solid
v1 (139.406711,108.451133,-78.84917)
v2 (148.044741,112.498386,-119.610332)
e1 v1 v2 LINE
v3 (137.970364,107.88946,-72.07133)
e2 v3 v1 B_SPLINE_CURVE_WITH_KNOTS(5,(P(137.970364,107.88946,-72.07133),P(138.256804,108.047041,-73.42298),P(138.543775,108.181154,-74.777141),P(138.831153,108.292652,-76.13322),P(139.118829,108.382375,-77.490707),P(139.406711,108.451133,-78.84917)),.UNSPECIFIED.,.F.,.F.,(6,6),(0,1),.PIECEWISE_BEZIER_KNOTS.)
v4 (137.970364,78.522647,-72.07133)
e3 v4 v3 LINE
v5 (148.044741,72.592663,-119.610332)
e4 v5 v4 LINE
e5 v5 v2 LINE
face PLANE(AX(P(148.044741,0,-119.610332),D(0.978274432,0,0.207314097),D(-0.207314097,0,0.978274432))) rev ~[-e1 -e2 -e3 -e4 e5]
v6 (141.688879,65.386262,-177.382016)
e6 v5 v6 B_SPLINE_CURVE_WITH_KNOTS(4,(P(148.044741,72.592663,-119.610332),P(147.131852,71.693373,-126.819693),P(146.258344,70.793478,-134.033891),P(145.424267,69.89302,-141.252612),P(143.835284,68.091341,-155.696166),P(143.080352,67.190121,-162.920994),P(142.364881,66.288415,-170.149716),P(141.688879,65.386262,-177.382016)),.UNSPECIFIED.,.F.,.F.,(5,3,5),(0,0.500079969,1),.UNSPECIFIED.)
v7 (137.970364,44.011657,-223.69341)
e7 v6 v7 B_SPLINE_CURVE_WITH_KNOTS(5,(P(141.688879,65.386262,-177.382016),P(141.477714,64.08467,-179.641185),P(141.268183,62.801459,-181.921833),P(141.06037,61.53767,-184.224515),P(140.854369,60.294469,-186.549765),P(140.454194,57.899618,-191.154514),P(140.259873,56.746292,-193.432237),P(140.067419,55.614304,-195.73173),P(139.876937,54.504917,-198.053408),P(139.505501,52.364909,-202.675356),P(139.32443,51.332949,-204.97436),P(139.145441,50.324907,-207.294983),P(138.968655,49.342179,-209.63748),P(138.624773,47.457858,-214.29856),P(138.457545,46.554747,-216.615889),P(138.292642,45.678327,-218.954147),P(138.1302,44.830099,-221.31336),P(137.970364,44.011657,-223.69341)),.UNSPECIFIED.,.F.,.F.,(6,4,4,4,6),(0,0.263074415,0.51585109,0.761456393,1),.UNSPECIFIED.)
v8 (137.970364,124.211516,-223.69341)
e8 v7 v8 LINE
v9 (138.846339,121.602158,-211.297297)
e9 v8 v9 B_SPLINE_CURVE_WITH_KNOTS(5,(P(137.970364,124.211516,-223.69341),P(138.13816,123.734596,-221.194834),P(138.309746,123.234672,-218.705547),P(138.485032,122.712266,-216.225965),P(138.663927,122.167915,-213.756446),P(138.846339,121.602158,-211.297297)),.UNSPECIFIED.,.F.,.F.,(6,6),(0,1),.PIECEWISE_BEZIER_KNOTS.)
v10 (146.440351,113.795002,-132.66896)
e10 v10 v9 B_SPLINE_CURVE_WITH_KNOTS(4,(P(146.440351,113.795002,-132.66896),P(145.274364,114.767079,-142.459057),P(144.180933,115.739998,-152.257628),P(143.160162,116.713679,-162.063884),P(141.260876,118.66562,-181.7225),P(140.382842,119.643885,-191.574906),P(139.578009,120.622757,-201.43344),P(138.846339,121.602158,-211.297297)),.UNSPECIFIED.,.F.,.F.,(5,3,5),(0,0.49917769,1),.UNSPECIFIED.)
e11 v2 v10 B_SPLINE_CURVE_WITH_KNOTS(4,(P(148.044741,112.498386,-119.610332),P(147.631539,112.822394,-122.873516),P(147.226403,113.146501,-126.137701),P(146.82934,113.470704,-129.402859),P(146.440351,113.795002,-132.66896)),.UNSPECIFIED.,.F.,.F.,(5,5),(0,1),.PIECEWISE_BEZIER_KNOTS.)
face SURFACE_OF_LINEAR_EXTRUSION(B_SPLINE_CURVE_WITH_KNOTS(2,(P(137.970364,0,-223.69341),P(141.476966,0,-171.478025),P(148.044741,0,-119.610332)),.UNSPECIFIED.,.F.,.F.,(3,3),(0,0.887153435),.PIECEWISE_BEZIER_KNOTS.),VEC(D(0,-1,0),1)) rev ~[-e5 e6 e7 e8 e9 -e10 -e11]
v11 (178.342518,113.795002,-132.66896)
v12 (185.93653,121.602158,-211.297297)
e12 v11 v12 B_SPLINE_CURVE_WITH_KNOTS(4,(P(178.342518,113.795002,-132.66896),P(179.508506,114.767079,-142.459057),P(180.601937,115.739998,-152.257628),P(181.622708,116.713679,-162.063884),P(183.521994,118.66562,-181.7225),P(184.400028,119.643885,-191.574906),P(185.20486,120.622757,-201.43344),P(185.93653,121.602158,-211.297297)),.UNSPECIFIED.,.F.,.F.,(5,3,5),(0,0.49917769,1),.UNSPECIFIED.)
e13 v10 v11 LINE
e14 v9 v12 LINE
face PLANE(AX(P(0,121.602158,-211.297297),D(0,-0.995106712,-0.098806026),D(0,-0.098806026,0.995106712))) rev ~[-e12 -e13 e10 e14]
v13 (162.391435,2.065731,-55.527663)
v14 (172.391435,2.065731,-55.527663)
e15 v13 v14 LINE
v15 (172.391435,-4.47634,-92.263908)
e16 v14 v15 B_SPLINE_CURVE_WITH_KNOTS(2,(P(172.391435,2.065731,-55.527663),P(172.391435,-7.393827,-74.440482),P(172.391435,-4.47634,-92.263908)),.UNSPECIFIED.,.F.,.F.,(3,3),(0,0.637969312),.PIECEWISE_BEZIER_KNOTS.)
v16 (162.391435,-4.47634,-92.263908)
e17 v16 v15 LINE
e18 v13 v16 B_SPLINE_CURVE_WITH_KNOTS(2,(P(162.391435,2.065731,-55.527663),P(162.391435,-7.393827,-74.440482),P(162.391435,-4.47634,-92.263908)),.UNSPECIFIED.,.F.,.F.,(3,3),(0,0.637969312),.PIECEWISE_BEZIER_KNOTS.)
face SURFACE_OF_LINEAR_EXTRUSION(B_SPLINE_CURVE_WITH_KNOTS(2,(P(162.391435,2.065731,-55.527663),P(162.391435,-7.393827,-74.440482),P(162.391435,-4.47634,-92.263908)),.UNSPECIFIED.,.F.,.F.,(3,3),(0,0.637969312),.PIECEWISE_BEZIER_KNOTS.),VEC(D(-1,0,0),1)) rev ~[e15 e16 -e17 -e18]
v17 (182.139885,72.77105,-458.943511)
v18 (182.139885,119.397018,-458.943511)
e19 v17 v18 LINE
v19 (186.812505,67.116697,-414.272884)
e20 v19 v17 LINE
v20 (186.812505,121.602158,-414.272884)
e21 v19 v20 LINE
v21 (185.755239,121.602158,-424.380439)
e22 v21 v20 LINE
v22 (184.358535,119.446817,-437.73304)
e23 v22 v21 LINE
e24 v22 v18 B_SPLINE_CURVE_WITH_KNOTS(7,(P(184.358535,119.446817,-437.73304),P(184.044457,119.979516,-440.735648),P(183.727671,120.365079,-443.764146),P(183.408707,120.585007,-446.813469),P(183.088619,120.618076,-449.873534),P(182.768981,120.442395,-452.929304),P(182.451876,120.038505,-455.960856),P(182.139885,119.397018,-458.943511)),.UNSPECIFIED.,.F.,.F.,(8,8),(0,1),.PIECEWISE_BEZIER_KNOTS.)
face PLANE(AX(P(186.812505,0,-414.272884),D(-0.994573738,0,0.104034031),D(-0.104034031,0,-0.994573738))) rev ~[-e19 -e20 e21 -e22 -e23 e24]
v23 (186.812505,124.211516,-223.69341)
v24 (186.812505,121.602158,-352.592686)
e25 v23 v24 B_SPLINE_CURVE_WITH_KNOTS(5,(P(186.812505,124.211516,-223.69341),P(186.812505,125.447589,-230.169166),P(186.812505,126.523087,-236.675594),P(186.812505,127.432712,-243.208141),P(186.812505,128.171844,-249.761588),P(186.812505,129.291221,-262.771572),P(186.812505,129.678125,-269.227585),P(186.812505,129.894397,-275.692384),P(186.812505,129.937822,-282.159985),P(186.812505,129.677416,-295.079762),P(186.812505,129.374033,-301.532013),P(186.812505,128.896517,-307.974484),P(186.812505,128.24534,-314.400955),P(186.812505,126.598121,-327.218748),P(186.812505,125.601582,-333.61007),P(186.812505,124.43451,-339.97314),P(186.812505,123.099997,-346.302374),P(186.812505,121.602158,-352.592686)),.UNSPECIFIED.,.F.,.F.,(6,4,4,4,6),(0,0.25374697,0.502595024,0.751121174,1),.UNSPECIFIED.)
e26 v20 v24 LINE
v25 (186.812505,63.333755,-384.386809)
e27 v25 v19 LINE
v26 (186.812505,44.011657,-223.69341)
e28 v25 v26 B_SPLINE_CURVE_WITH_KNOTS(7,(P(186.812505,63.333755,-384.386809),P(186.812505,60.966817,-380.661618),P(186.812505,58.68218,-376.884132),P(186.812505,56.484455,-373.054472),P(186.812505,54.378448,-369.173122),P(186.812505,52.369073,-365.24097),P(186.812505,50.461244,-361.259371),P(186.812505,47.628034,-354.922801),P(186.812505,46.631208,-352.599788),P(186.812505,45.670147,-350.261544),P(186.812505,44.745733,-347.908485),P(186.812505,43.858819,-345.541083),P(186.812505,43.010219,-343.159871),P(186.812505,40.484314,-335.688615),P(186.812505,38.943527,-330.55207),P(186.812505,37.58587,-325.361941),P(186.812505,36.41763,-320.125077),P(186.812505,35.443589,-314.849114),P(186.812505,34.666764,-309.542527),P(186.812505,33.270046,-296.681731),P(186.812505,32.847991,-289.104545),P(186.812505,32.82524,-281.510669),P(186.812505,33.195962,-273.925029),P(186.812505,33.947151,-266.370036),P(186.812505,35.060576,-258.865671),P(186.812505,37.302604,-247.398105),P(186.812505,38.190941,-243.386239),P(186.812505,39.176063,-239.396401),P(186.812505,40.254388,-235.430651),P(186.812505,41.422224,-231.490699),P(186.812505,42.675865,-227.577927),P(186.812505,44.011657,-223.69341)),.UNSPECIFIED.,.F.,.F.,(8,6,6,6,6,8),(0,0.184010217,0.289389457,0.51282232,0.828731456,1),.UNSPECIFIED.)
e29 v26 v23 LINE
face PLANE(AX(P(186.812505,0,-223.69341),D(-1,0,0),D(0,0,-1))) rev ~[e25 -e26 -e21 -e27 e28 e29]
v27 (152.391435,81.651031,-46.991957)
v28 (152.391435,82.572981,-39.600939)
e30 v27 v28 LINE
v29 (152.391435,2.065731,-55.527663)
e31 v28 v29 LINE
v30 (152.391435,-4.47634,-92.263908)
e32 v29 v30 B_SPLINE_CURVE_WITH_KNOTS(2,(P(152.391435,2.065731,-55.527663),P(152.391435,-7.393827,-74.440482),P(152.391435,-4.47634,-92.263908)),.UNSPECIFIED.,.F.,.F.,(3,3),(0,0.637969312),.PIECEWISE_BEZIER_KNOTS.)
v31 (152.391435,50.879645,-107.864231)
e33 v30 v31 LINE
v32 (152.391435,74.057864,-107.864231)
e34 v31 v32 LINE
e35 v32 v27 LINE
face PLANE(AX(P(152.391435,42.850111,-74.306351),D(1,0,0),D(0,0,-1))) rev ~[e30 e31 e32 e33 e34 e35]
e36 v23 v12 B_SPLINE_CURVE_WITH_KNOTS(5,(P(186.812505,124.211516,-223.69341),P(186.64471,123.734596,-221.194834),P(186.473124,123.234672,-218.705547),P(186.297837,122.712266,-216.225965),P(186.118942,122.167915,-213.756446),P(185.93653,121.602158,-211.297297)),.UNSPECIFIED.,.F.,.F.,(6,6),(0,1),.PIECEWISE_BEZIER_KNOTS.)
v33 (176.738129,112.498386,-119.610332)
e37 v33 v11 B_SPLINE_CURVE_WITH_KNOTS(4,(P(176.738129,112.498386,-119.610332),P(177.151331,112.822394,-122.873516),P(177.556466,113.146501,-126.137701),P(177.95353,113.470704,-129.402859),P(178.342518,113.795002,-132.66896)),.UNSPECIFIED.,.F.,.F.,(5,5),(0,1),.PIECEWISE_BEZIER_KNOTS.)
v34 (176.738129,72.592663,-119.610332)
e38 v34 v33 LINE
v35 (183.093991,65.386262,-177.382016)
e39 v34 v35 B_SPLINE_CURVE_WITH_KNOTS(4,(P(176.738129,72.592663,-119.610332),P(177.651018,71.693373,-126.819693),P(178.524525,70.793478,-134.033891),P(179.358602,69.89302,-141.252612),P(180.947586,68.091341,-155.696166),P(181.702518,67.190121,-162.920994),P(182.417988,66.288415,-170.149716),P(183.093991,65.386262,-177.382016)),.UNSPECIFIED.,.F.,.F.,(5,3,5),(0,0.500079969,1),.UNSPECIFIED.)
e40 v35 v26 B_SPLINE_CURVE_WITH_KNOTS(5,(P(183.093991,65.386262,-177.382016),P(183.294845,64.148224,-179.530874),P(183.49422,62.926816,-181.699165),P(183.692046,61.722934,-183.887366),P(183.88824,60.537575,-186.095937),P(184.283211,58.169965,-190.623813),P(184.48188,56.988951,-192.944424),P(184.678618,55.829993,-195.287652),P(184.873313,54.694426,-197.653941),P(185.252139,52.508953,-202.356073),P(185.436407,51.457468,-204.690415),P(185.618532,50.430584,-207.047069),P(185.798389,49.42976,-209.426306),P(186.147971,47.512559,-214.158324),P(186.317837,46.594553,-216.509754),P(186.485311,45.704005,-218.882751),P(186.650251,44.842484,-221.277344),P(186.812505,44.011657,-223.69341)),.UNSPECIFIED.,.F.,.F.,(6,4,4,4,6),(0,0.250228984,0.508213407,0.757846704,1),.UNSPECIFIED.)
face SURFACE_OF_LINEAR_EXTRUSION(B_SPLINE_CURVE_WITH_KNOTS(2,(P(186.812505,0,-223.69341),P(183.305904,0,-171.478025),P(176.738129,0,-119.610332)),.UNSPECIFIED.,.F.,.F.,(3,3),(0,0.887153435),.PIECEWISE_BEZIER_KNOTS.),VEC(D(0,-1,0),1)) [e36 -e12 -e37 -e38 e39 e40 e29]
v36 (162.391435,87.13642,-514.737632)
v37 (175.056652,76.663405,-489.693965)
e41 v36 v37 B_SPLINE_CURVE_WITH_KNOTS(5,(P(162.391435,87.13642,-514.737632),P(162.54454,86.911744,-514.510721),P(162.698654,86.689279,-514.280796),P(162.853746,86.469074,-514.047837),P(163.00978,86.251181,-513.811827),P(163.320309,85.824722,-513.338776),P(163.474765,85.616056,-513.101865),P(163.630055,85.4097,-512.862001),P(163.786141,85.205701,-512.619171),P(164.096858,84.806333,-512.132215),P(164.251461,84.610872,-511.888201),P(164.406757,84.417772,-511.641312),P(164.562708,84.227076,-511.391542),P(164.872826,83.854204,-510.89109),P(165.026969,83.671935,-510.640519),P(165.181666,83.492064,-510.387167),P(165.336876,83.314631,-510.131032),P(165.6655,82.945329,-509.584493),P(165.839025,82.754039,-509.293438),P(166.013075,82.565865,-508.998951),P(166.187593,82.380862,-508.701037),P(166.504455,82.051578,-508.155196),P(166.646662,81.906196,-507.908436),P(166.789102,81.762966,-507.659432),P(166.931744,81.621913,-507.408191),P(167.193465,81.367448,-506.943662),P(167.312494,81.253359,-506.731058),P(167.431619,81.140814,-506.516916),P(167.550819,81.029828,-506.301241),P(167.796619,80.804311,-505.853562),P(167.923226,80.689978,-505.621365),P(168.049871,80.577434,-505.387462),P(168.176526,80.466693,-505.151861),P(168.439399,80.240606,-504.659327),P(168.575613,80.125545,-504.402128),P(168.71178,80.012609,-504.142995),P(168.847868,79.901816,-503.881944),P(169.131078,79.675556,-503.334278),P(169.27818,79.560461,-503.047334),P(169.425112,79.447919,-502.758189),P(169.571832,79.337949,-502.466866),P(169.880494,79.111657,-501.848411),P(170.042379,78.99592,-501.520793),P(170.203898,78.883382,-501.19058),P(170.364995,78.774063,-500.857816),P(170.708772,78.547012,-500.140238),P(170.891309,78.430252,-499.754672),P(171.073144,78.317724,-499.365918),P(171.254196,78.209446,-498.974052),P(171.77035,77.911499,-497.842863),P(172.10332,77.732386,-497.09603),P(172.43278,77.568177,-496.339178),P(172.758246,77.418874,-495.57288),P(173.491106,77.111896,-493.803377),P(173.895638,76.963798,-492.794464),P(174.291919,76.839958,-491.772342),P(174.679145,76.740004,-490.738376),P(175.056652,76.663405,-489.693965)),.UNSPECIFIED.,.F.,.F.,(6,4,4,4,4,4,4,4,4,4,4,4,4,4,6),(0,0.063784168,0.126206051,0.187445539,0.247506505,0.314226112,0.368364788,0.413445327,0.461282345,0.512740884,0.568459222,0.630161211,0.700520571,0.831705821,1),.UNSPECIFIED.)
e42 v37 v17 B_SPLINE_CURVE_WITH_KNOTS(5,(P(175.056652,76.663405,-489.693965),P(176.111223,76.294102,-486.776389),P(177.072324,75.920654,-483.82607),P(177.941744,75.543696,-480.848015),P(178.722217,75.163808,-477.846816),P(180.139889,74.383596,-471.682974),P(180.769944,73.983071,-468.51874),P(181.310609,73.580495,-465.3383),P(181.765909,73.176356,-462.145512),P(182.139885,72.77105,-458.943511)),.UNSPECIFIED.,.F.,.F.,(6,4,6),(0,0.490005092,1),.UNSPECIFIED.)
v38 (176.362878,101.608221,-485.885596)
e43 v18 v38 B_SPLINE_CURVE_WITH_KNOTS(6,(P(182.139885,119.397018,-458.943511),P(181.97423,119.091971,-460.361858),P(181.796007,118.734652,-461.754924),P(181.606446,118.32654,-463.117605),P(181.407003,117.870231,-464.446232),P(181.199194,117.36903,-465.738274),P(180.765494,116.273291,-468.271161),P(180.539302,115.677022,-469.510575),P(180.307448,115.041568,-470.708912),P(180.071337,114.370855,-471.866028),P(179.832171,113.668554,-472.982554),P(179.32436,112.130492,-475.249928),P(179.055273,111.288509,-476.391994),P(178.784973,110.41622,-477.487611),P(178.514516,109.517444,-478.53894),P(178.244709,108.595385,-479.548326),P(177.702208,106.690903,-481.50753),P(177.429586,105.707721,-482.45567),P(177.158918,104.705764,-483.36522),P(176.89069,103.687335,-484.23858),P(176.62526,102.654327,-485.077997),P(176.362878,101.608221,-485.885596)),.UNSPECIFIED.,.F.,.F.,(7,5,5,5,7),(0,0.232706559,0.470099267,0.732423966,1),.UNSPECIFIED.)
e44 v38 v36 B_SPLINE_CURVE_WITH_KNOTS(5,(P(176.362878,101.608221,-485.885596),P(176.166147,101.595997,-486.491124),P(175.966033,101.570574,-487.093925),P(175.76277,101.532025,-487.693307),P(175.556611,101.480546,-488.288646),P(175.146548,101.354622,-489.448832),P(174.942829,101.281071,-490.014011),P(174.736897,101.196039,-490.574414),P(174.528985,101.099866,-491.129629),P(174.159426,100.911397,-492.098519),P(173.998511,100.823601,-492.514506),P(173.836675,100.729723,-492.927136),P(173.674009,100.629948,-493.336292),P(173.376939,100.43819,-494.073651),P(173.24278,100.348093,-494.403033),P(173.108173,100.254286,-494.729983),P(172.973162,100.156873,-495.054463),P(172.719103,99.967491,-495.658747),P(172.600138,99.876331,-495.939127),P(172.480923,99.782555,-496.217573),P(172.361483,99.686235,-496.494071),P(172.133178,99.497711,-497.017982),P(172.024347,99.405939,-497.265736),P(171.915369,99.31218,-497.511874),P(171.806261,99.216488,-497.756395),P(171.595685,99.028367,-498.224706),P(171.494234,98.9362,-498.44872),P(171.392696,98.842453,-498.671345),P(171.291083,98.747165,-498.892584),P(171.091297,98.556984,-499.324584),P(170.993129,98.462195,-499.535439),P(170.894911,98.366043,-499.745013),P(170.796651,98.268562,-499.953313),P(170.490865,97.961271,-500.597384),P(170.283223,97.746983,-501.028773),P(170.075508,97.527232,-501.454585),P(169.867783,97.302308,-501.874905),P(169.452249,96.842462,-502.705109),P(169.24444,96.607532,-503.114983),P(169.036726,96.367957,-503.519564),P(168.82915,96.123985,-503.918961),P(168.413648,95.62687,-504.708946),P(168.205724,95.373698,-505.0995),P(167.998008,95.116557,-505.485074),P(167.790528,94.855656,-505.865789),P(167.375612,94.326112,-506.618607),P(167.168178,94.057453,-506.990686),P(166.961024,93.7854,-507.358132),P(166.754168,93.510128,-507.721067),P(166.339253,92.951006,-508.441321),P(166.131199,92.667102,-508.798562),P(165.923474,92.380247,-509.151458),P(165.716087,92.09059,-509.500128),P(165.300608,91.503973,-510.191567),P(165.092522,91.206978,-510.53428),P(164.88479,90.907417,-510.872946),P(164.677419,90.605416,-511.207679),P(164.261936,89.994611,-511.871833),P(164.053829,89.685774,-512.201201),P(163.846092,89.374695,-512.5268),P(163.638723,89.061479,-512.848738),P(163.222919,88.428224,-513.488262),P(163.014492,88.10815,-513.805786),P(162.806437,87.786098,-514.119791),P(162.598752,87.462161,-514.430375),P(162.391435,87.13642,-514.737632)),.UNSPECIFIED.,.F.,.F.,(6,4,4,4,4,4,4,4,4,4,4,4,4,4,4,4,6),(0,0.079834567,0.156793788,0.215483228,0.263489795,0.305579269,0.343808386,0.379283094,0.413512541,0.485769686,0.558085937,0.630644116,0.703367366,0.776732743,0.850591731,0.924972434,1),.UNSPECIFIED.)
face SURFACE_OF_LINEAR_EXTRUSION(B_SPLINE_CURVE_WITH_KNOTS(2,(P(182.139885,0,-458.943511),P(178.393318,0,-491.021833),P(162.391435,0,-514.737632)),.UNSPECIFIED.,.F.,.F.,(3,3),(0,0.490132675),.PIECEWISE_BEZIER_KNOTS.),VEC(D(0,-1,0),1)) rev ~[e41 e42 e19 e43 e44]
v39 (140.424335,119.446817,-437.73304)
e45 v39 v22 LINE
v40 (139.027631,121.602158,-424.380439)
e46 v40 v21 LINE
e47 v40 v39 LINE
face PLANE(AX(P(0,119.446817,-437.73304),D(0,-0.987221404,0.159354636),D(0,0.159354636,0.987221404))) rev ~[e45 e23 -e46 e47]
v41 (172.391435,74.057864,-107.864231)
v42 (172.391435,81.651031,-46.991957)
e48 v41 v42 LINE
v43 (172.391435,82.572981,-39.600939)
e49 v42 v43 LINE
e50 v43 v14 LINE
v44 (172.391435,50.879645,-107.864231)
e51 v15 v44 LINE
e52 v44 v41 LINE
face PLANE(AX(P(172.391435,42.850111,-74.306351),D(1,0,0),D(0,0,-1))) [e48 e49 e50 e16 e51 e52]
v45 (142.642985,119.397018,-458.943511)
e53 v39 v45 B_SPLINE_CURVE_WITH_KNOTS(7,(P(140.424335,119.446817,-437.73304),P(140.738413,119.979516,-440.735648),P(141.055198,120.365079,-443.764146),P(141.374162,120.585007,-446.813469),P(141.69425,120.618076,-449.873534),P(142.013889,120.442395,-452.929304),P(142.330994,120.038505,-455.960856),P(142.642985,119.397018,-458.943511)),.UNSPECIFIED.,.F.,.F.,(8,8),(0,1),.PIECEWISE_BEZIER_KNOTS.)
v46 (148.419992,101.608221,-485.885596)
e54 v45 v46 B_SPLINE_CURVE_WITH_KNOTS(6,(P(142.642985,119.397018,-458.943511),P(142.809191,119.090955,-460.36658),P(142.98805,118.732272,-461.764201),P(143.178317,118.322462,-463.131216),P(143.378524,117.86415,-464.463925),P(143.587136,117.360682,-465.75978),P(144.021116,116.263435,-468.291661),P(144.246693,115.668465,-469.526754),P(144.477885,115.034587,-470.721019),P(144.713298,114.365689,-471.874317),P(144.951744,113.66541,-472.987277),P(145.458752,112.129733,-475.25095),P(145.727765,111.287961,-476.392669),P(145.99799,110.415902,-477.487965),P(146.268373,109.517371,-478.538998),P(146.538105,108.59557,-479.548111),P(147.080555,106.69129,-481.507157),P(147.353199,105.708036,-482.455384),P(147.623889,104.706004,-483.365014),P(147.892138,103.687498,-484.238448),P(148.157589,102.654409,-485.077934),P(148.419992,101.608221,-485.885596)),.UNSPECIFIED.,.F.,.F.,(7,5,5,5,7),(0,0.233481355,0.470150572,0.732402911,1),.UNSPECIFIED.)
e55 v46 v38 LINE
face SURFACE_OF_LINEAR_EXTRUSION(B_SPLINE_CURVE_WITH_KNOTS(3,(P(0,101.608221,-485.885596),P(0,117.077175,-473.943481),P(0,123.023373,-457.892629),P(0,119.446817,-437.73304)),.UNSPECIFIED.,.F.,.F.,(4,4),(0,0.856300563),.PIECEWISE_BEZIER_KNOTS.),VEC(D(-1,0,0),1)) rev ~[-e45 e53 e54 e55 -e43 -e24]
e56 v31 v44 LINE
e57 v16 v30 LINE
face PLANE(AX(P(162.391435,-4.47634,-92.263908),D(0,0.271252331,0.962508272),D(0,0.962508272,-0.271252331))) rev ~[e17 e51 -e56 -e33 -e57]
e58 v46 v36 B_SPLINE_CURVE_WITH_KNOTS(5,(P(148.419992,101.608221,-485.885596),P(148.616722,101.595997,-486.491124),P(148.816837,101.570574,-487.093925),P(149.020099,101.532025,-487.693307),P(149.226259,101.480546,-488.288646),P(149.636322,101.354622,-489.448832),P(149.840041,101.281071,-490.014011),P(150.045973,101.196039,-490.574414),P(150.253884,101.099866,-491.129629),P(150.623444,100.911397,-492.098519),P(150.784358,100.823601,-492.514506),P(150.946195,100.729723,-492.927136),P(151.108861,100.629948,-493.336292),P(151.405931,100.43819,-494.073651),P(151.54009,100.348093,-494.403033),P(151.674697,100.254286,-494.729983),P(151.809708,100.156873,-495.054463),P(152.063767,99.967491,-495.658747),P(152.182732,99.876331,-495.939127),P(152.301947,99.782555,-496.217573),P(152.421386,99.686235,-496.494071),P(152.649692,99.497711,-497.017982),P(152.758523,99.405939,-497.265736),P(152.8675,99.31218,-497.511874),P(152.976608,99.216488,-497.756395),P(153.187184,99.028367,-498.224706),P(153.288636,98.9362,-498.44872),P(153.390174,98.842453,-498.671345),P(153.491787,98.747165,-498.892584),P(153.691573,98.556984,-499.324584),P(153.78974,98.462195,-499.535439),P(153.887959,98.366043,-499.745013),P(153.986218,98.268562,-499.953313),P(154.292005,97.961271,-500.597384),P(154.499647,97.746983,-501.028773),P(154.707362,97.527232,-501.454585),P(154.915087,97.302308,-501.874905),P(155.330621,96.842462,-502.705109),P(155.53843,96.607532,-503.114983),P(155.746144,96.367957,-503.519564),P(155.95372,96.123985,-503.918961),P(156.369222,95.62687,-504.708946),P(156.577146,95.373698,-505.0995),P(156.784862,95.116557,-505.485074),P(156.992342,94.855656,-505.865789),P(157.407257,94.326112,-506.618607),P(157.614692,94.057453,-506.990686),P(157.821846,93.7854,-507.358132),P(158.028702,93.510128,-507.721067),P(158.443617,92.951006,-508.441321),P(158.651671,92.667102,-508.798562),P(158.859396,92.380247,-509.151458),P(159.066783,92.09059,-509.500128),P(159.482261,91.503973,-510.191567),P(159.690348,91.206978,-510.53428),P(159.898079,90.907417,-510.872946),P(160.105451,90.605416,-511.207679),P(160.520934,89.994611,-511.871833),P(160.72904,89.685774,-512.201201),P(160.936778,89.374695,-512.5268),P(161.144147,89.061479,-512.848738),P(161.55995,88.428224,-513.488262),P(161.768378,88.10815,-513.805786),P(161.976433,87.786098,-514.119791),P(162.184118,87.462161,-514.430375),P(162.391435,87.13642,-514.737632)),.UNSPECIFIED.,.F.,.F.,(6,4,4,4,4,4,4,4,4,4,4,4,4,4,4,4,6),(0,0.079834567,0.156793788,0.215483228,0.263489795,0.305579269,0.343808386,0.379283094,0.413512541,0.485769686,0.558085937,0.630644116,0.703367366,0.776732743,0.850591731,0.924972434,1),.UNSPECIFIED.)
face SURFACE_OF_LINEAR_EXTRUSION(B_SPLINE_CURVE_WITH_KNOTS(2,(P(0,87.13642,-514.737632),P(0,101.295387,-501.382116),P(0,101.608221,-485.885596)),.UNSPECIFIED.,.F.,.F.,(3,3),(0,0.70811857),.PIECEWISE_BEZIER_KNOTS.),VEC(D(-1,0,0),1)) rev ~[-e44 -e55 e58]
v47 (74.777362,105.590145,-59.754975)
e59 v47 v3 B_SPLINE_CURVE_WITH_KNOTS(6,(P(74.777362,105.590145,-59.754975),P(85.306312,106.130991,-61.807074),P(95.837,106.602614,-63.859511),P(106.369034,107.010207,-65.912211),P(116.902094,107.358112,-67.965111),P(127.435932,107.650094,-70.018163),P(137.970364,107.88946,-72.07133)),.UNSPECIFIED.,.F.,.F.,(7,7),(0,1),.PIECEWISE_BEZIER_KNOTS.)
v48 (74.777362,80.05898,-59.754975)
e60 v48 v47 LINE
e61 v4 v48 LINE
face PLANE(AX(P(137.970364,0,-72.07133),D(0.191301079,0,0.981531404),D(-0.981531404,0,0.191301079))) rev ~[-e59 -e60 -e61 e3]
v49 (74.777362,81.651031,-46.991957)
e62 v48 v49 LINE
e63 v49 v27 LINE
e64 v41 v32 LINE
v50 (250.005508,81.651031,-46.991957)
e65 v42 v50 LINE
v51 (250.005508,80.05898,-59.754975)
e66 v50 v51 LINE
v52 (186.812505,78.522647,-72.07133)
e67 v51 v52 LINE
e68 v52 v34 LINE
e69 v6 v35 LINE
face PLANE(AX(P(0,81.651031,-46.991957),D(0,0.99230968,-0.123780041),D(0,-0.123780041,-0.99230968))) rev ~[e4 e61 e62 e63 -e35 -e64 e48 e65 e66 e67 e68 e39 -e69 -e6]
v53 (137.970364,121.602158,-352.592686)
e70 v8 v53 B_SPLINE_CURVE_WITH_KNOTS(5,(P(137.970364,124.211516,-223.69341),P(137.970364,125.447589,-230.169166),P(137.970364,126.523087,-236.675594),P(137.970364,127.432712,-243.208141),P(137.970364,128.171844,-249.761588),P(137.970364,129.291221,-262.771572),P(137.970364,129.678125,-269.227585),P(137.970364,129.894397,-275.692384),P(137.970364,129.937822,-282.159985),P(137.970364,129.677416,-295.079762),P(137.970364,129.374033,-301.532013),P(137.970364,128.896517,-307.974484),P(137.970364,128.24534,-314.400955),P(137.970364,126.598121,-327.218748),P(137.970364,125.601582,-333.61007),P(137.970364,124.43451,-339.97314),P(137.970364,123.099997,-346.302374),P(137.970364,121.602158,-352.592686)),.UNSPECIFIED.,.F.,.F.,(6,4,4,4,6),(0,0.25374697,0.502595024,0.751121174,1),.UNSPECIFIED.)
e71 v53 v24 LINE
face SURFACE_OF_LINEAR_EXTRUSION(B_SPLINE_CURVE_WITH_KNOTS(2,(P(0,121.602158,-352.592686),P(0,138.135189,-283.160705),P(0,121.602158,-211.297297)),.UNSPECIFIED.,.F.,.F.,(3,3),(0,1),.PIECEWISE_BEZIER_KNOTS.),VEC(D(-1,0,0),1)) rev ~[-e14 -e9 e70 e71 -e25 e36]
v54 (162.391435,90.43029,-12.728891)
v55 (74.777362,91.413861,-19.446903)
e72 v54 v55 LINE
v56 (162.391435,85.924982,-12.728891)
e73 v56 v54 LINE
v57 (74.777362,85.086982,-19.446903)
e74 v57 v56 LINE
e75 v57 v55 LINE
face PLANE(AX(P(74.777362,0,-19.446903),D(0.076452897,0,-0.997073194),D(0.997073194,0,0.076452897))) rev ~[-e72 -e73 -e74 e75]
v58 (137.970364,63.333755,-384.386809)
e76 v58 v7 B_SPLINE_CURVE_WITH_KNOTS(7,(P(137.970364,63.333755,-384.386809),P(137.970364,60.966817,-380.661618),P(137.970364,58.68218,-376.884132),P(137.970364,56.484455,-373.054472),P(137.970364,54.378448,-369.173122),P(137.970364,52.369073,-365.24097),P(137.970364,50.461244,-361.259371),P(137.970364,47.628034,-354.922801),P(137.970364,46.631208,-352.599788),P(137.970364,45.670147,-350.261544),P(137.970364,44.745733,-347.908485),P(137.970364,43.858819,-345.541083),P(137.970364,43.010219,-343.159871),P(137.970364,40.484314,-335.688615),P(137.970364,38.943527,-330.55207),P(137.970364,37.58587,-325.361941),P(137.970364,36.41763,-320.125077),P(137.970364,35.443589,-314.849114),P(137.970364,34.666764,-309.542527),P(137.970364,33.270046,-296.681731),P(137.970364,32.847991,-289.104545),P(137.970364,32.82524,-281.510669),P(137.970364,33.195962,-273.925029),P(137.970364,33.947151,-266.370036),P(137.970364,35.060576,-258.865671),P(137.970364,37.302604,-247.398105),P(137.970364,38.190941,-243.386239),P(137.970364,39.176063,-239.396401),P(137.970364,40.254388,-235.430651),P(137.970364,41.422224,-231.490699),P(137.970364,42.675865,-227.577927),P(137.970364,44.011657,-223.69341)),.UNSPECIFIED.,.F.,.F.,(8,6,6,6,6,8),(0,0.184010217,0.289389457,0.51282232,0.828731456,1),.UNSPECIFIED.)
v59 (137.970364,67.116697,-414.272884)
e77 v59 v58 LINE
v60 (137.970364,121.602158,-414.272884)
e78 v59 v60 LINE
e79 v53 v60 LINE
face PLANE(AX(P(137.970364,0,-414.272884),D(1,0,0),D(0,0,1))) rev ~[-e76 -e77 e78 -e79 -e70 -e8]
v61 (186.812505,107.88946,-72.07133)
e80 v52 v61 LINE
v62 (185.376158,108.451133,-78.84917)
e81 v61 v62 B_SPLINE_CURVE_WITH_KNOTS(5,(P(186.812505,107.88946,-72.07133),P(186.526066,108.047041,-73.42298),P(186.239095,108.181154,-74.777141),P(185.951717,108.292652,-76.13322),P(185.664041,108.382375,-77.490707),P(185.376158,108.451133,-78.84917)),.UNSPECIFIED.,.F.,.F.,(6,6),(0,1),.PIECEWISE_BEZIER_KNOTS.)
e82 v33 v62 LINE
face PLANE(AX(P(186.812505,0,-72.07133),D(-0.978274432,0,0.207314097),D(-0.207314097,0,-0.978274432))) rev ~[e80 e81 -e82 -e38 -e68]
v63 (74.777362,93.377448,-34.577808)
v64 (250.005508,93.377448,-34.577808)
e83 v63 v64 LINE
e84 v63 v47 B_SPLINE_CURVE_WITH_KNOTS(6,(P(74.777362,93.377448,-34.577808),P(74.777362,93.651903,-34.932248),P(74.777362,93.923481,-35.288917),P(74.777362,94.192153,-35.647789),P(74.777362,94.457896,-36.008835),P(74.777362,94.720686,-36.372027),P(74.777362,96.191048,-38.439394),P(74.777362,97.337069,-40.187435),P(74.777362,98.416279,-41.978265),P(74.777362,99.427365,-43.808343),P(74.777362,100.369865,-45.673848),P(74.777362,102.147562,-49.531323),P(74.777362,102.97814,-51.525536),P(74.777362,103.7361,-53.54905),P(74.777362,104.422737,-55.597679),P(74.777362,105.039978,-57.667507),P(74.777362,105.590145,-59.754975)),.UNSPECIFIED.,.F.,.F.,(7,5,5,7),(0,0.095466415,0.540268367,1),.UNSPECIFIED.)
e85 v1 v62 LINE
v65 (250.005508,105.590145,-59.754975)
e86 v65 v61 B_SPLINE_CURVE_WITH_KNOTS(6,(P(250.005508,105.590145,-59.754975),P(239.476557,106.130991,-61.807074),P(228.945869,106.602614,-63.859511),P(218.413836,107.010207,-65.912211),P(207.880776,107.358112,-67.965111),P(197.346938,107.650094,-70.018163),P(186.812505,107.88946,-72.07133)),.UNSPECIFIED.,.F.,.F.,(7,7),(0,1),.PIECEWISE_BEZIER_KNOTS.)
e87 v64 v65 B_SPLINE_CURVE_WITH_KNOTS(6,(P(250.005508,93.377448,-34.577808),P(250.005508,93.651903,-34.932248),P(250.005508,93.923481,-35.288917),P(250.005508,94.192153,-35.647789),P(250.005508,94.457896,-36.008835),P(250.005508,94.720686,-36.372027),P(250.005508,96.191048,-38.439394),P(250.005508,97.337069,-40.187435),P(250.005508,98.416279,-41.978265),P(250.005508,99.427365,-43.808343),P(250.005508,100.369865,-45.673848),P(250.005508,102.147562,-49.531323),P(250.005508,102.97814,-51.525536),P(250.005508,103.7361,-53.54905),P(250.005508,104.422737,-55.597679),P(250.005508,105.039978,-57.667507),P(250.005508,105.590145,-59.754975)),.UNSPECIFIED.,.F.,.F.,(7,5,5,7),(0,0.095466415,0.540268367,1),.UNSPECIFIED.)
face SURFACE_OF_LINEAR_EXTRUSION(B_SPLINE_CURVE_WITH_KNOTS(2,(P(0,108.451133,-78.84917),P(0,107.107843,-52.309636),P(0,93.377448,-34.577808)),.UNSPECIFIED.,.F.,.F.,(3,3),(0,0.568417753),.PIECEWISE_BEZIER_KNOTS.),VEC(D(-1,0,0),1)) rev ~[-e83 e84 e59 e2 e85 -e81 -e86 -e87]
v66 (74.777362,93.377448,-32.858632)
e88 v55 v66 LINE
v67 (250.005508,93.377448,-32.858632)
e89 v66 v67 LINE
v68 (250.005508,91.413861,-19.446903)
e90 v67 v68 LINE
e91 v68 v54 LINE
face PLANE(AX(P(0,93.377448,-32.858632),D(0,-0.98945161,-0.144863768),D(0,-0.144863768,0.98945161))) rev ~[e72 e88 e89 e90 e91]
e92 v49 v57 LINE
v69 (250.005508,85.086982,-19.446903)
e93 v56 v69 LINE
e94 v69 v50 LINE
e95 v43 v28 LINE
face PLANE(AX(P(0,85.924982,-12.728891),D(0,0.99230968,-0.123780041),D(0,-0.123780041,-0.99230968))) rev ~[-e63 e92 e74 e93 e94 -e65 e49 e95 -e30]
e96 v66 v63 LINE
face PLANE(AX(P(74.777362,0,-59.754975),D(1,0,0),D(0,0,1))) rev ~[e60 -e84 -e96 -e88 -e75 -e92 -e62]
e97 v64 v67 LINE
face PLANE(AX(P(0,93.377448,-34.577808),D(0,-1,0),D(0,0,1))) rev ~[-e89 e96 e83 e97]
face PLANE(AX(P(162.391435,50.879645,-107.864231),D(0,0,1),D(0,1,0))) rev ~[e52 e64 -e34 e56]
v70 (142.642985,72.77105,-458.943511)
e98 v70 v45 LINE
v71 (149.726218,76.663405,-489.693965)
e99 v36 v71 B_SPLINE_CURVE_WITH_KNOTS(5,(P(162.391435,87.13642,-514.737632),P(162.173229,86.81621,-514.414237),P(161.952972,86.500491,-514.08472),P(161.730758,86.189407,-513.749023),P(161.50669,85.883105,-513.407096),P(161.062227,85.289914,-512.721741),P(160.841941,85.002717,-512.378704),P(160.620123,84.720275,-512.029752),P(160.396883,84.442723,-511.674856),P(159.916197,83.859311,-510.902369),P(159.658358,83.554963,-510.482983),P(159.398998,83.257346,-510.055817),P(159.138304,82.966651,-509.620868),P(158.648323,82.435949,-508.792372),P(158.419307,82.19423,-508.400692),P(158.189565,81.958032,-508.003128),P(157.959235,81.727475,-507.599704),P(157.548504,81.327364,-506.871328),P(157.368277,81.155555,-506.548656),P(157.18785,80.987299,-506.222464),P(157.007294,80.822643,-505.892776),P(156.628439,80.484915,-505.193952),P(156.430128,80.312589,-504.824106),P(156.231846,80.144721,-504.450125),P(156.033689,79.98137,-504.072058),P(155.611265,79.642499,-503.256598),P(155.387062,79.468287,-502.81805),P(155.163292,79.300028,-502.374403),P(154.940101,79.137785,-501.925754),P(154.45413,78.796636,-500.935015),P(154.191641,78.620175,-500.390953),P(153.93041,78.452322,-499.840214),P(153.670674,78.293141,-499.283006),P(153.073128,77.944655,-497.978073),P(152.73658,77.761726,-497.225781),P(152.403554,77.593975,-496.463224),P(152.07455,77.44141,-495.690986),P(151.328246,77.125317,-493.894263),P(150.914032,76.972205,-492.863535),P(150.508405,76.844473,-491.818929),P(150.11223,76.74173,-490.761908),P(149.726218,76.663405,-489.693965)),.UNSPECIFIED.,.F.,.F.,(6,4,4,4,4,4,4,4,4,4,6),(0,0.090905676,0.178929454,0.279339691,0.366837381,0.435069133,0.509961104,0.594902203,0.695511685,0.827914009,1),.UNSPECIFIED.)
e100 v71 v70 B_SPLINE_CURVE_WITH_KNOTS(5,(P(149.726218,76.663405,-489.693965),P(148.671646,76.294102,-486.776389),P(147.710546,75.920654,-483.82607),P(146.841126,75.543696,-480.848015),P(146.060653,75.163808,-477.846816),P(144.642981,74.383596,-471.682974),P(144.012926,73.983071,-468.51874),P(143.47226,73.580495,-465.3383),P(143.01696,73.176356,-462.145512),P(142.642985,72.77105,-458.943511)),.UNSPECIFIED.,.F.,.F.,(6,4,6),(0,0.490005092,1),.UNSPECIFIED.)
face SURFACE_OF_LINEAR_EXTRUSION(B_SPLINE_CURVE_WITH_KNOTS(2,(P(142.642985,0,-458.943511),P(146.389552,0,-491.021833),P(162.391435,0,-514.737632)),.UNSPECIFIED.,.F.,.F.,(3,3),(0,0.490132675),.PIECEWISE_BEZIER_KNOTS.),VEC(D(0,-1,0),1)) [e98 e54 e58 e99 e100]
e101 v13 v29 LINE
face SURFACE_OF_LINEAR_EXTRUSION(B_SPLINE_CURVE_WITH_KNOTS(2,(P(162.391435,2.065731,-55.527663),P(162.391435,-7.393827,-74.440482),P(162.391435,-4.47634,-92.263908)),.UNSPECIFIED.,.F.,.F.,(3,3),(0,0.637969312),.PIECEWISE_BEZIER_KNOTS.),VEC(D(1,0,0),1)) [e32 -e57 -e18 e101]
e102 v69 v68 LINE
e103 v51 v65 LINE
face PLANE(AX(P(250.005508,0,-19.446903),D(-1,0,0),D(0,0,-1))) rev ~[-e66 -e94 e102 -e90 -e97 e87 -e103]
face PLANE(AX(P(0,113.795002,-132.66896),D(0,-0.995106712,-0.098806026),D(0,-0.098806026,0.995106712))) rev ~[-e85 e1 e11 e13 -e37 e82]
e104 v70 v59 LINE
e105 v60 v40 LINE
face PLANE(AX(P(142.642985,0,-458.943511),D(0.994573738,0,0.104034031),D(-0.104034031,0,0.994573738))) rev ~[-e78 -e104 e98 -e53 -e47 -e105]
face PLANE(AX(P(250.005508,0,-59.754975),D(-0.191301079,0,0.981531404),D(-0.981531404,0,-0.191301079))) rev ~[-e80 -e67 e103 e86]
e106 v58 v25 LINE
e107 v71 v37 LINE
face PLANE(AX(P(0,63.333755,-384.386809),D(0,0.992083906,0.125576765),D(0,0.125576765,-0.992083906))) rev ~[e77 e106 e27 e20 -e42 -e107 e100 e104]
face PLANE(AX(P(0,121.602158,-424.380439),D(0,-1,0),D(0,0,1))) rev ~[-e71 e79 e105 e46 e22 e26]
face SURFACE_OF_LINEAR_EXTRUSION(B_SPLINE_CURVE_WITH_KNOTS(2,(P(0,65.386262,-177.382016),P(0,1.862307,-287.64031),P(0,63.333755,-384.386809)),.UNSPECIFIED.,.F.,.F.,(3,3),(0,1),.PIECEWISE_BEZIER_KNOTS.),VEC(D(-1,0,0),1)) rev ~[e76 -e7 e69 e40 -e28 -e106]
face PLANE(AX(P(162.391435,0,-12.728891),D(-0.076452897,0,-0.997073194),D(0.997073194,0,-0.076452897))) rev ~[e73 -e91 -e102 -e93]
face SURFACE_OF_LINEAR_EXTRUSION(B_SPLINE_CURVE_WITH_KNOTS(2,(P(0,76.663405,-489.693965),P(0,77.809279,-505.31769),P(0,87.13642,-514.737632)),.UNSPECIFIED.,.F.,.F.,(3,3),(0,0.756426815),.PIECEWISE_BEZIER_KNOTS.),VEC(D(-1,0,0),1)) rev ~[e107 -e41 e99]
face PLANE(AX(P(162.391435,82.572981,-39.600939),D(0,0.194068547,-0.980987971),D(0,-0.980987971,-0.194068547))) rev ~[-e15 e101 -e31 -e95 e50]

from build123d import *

# Parameters (mm, degrees)
BOSS_EXTRUDE1_DEPTH      = 240
SKETCH4_OUTSIDE_W        = 620.683
SKETCH4_OUTSIDE_H        = 358.674
CUT_EXTRUDE1_DEPTH       = 251.005507708
BOSS_EXTRUDE2_DEPTH      = 10
BOSS_EXTRUDE2_DEPTH_BACK = 10


with BuildPart() as part:
    # Sketch3 → Boss-Extrude1 (new body)
    with BuildSketch(Plane(origin=(0, 0, 0), x_dir=(1, 0, 0), z_dir=(0, 1, 0))):
        with BuildLine():
            Line((137.970364324, 414.272883639), (137.970364324, 223.69340993))
            add(Edge.make_bspline(
                [(137.970364324, 223.69340993), (141.476966078, 171.478024708), (148.044741181, 119.610332165)],
                knots=[0, 0, 0, 0.887153435, 0.887153435, 0.887153435], degree=2))
            Line((148.044741181, 119.610332165), (137.970364324, 72.071329968))
            Line((137.970364324, 72.071329968), (74.77736212, 59.754974694))
            Line((74.77736212, 59.754974694), (74.77736212, 19.446902889))
            Line((74.77736212, 19.446902889), (162.391434864, 12.728890921))
            Line((162.391434864, 12.728890921), (250.005507608, 19.446902889))
            Line((250.005507608, 19.446902889), (250.005507608, 59.754974694))
            Line((250.005507608, 59.754974694), (186.812505404, 72.071329968))
            Line((186.812505404, 72.071329968), (176.738128547, 119.610332165))
            add(Edge.make_bspline(
                [(186.812505404, 223.69340993), (183.30590365, 171.478024708), (176.738128547, 119.610332165)],
                knots=[0, 0, 0, 0.887153435, 0.887153435, 0.887153435], degree=2))
            Line((186.812505404, 223.69340993), (186.812505404, 414.272883639))
            Line((186.812505404, 414.272883639), (182.139885098, 458.943511131))
            add(Edge.make_bspline(
                [(182.139885098, 458.943511131), (178.393317936, 491.021832881), (162.391434864, 514.737632441)],
                knots=[0, 0, 0, 0.490132675, 0.490132675, 0.490132675], degree=2))
            add(Edge.make_bspline(
                [(142.64298463, 458.943511131), (146.389551792, 491.021832881), (162.391434864, 514.737632441)],
                knots=[0, 0, 0, 0.490132675, 0.490132675, 0.490132675], degree=2))
            Line((142.64298463, 458.943511131), (137.970364324, 414.272883639))
        make_face()
    extrude(amount=BOSS_EXTRUDE1_DEPTH)

    # Sketch4 outside → Cut-Extrude1 (cut, through all)
    with BuildSketch(Plane(origin=(0, 0, 0), x_dir=(0, 0, -1), z_dir=(1, 0, 0))):
        with Locations((263.7335, 120)):
            Rectangle(SKETCH4_OUTSIDE_W, SKETCH4_OUTSIDE_H)
        with BuildLine():
            Line((12.728890921, 85.924982425), (46.991957136, 81.651030623))
            Line((46.991957136, 81.651030623), (177.382016131, 65.386262487))
            add(Edge.make_bspline(
                [(177.382016131, 65.386262487), (287.640309593, 1.862307292), (384.386809277, 63.333754572)],
                knots=[0, 0, 0, 1, 1, 1], degree=2))
            Line((384.386809277, 63.333754572), (489.693965282, 76.663405275))
            add(Edge.make_bspline(
                [(489.693965282, 76.663405275), (505.317689733, 77.809278687), (514.737632441, 87.136419671)],
                knots=[0, 0, 0, 0.756426815, 0.756426815, 0.756426815], degree=2))
            add(Edge.make_bspline(
                [(514.737632441, 87.136419671), (501.382115592, 101.295387019), (485.88559641, 101.608221382)],
                knots=[0, 0, 0, 0.70811857, 0.70811857, 0.70811857], degree=2))
            add(Edge.make_bspline(
                [(485.88559641, 101.608221382), (473.943480605, 117.077174504), (457.892628594, 123.023372981), (437.733040377, 119.446816811)],
                knots=[0, 0, 0, 0, 0.856300563, 0.856300563, 0.856300563, 0.856300563], degree=3))
            Line((437.733040377, 119.446816811), (424.380439139, 121.602157956))
            Line((424.380439139, 121.602157956), (352.592685915, 121.602157956))
            add(Edge.make_bspline(
                [(352.592685915, 121.602157956), (283.160705497, 138.135189476), (211.297296684, 121.602157956)],
                knots=[0, 0, 0, 1, 1, 1], degree=2))
            Line((211.297296684, 121.602157956), (132.668959601, 113.79500177))
            Line((132.668959601, 113.79500177), (78.849169619, 108.45113311))
            add(Edge.make_bspline(
                [(78.849169619, 108.45113311), (52.309636156, 107.107843422), (34.577807776, 93.377447612)],
                knots=[0, 0, 0, 0.568417753, 0.568417753, 0.568417753], degree=2))
            Line((34.577807776, 93.377447612), (32.858632307, 93.377447612))
            Line((32.858632307, 93.377447612), (12.728890921, 90.430289665))
            Line((12.728890921, 90.430289665), (12.728890921, 85.924982425))
        make_face(mode=Mode.SUBTRACT)
    extrude(amount=CUT_EXTRUDE1_DEPTH, mode=Mode.SUBTRACT)

    # Sketch5 → Boss-Extrude2 (add, two sides)
    with BuildSketch(Plane.ZY.offset(-162.391434864)) as boss_extrude2_sk:
        with BuildLine():
            Line((-39.600938792, 82.572981273), (-55.527663258, 2.06573062))
            add(Edge.make_bspline(
                [(-55.527663258, 2.06573062), (-74.440482287, -7.393827092), (-92.263908139, -4.476340386)],
                knots=[0, 0, 0, 0.637969312, 0.637969312, 0.637969312], degree=2))
            Line((-92.263908139, -4.476340386), (-107.864231307, 50.87964505))
            Line((-107.864231307, 50.87964505), (-107.864231307, 74.057864143))
            Line((-107.864231307, 74.057864143), (-39.600938792, 82.572981273))
        make_face()
    extrude(amount=BOSS_EXTRUDE2_DEPTH)
    extrude(boss_extrude2_sk.sketch, amount=-BOSS_EXTRUDE2_DEPTH_BACK)


solid = part.part
